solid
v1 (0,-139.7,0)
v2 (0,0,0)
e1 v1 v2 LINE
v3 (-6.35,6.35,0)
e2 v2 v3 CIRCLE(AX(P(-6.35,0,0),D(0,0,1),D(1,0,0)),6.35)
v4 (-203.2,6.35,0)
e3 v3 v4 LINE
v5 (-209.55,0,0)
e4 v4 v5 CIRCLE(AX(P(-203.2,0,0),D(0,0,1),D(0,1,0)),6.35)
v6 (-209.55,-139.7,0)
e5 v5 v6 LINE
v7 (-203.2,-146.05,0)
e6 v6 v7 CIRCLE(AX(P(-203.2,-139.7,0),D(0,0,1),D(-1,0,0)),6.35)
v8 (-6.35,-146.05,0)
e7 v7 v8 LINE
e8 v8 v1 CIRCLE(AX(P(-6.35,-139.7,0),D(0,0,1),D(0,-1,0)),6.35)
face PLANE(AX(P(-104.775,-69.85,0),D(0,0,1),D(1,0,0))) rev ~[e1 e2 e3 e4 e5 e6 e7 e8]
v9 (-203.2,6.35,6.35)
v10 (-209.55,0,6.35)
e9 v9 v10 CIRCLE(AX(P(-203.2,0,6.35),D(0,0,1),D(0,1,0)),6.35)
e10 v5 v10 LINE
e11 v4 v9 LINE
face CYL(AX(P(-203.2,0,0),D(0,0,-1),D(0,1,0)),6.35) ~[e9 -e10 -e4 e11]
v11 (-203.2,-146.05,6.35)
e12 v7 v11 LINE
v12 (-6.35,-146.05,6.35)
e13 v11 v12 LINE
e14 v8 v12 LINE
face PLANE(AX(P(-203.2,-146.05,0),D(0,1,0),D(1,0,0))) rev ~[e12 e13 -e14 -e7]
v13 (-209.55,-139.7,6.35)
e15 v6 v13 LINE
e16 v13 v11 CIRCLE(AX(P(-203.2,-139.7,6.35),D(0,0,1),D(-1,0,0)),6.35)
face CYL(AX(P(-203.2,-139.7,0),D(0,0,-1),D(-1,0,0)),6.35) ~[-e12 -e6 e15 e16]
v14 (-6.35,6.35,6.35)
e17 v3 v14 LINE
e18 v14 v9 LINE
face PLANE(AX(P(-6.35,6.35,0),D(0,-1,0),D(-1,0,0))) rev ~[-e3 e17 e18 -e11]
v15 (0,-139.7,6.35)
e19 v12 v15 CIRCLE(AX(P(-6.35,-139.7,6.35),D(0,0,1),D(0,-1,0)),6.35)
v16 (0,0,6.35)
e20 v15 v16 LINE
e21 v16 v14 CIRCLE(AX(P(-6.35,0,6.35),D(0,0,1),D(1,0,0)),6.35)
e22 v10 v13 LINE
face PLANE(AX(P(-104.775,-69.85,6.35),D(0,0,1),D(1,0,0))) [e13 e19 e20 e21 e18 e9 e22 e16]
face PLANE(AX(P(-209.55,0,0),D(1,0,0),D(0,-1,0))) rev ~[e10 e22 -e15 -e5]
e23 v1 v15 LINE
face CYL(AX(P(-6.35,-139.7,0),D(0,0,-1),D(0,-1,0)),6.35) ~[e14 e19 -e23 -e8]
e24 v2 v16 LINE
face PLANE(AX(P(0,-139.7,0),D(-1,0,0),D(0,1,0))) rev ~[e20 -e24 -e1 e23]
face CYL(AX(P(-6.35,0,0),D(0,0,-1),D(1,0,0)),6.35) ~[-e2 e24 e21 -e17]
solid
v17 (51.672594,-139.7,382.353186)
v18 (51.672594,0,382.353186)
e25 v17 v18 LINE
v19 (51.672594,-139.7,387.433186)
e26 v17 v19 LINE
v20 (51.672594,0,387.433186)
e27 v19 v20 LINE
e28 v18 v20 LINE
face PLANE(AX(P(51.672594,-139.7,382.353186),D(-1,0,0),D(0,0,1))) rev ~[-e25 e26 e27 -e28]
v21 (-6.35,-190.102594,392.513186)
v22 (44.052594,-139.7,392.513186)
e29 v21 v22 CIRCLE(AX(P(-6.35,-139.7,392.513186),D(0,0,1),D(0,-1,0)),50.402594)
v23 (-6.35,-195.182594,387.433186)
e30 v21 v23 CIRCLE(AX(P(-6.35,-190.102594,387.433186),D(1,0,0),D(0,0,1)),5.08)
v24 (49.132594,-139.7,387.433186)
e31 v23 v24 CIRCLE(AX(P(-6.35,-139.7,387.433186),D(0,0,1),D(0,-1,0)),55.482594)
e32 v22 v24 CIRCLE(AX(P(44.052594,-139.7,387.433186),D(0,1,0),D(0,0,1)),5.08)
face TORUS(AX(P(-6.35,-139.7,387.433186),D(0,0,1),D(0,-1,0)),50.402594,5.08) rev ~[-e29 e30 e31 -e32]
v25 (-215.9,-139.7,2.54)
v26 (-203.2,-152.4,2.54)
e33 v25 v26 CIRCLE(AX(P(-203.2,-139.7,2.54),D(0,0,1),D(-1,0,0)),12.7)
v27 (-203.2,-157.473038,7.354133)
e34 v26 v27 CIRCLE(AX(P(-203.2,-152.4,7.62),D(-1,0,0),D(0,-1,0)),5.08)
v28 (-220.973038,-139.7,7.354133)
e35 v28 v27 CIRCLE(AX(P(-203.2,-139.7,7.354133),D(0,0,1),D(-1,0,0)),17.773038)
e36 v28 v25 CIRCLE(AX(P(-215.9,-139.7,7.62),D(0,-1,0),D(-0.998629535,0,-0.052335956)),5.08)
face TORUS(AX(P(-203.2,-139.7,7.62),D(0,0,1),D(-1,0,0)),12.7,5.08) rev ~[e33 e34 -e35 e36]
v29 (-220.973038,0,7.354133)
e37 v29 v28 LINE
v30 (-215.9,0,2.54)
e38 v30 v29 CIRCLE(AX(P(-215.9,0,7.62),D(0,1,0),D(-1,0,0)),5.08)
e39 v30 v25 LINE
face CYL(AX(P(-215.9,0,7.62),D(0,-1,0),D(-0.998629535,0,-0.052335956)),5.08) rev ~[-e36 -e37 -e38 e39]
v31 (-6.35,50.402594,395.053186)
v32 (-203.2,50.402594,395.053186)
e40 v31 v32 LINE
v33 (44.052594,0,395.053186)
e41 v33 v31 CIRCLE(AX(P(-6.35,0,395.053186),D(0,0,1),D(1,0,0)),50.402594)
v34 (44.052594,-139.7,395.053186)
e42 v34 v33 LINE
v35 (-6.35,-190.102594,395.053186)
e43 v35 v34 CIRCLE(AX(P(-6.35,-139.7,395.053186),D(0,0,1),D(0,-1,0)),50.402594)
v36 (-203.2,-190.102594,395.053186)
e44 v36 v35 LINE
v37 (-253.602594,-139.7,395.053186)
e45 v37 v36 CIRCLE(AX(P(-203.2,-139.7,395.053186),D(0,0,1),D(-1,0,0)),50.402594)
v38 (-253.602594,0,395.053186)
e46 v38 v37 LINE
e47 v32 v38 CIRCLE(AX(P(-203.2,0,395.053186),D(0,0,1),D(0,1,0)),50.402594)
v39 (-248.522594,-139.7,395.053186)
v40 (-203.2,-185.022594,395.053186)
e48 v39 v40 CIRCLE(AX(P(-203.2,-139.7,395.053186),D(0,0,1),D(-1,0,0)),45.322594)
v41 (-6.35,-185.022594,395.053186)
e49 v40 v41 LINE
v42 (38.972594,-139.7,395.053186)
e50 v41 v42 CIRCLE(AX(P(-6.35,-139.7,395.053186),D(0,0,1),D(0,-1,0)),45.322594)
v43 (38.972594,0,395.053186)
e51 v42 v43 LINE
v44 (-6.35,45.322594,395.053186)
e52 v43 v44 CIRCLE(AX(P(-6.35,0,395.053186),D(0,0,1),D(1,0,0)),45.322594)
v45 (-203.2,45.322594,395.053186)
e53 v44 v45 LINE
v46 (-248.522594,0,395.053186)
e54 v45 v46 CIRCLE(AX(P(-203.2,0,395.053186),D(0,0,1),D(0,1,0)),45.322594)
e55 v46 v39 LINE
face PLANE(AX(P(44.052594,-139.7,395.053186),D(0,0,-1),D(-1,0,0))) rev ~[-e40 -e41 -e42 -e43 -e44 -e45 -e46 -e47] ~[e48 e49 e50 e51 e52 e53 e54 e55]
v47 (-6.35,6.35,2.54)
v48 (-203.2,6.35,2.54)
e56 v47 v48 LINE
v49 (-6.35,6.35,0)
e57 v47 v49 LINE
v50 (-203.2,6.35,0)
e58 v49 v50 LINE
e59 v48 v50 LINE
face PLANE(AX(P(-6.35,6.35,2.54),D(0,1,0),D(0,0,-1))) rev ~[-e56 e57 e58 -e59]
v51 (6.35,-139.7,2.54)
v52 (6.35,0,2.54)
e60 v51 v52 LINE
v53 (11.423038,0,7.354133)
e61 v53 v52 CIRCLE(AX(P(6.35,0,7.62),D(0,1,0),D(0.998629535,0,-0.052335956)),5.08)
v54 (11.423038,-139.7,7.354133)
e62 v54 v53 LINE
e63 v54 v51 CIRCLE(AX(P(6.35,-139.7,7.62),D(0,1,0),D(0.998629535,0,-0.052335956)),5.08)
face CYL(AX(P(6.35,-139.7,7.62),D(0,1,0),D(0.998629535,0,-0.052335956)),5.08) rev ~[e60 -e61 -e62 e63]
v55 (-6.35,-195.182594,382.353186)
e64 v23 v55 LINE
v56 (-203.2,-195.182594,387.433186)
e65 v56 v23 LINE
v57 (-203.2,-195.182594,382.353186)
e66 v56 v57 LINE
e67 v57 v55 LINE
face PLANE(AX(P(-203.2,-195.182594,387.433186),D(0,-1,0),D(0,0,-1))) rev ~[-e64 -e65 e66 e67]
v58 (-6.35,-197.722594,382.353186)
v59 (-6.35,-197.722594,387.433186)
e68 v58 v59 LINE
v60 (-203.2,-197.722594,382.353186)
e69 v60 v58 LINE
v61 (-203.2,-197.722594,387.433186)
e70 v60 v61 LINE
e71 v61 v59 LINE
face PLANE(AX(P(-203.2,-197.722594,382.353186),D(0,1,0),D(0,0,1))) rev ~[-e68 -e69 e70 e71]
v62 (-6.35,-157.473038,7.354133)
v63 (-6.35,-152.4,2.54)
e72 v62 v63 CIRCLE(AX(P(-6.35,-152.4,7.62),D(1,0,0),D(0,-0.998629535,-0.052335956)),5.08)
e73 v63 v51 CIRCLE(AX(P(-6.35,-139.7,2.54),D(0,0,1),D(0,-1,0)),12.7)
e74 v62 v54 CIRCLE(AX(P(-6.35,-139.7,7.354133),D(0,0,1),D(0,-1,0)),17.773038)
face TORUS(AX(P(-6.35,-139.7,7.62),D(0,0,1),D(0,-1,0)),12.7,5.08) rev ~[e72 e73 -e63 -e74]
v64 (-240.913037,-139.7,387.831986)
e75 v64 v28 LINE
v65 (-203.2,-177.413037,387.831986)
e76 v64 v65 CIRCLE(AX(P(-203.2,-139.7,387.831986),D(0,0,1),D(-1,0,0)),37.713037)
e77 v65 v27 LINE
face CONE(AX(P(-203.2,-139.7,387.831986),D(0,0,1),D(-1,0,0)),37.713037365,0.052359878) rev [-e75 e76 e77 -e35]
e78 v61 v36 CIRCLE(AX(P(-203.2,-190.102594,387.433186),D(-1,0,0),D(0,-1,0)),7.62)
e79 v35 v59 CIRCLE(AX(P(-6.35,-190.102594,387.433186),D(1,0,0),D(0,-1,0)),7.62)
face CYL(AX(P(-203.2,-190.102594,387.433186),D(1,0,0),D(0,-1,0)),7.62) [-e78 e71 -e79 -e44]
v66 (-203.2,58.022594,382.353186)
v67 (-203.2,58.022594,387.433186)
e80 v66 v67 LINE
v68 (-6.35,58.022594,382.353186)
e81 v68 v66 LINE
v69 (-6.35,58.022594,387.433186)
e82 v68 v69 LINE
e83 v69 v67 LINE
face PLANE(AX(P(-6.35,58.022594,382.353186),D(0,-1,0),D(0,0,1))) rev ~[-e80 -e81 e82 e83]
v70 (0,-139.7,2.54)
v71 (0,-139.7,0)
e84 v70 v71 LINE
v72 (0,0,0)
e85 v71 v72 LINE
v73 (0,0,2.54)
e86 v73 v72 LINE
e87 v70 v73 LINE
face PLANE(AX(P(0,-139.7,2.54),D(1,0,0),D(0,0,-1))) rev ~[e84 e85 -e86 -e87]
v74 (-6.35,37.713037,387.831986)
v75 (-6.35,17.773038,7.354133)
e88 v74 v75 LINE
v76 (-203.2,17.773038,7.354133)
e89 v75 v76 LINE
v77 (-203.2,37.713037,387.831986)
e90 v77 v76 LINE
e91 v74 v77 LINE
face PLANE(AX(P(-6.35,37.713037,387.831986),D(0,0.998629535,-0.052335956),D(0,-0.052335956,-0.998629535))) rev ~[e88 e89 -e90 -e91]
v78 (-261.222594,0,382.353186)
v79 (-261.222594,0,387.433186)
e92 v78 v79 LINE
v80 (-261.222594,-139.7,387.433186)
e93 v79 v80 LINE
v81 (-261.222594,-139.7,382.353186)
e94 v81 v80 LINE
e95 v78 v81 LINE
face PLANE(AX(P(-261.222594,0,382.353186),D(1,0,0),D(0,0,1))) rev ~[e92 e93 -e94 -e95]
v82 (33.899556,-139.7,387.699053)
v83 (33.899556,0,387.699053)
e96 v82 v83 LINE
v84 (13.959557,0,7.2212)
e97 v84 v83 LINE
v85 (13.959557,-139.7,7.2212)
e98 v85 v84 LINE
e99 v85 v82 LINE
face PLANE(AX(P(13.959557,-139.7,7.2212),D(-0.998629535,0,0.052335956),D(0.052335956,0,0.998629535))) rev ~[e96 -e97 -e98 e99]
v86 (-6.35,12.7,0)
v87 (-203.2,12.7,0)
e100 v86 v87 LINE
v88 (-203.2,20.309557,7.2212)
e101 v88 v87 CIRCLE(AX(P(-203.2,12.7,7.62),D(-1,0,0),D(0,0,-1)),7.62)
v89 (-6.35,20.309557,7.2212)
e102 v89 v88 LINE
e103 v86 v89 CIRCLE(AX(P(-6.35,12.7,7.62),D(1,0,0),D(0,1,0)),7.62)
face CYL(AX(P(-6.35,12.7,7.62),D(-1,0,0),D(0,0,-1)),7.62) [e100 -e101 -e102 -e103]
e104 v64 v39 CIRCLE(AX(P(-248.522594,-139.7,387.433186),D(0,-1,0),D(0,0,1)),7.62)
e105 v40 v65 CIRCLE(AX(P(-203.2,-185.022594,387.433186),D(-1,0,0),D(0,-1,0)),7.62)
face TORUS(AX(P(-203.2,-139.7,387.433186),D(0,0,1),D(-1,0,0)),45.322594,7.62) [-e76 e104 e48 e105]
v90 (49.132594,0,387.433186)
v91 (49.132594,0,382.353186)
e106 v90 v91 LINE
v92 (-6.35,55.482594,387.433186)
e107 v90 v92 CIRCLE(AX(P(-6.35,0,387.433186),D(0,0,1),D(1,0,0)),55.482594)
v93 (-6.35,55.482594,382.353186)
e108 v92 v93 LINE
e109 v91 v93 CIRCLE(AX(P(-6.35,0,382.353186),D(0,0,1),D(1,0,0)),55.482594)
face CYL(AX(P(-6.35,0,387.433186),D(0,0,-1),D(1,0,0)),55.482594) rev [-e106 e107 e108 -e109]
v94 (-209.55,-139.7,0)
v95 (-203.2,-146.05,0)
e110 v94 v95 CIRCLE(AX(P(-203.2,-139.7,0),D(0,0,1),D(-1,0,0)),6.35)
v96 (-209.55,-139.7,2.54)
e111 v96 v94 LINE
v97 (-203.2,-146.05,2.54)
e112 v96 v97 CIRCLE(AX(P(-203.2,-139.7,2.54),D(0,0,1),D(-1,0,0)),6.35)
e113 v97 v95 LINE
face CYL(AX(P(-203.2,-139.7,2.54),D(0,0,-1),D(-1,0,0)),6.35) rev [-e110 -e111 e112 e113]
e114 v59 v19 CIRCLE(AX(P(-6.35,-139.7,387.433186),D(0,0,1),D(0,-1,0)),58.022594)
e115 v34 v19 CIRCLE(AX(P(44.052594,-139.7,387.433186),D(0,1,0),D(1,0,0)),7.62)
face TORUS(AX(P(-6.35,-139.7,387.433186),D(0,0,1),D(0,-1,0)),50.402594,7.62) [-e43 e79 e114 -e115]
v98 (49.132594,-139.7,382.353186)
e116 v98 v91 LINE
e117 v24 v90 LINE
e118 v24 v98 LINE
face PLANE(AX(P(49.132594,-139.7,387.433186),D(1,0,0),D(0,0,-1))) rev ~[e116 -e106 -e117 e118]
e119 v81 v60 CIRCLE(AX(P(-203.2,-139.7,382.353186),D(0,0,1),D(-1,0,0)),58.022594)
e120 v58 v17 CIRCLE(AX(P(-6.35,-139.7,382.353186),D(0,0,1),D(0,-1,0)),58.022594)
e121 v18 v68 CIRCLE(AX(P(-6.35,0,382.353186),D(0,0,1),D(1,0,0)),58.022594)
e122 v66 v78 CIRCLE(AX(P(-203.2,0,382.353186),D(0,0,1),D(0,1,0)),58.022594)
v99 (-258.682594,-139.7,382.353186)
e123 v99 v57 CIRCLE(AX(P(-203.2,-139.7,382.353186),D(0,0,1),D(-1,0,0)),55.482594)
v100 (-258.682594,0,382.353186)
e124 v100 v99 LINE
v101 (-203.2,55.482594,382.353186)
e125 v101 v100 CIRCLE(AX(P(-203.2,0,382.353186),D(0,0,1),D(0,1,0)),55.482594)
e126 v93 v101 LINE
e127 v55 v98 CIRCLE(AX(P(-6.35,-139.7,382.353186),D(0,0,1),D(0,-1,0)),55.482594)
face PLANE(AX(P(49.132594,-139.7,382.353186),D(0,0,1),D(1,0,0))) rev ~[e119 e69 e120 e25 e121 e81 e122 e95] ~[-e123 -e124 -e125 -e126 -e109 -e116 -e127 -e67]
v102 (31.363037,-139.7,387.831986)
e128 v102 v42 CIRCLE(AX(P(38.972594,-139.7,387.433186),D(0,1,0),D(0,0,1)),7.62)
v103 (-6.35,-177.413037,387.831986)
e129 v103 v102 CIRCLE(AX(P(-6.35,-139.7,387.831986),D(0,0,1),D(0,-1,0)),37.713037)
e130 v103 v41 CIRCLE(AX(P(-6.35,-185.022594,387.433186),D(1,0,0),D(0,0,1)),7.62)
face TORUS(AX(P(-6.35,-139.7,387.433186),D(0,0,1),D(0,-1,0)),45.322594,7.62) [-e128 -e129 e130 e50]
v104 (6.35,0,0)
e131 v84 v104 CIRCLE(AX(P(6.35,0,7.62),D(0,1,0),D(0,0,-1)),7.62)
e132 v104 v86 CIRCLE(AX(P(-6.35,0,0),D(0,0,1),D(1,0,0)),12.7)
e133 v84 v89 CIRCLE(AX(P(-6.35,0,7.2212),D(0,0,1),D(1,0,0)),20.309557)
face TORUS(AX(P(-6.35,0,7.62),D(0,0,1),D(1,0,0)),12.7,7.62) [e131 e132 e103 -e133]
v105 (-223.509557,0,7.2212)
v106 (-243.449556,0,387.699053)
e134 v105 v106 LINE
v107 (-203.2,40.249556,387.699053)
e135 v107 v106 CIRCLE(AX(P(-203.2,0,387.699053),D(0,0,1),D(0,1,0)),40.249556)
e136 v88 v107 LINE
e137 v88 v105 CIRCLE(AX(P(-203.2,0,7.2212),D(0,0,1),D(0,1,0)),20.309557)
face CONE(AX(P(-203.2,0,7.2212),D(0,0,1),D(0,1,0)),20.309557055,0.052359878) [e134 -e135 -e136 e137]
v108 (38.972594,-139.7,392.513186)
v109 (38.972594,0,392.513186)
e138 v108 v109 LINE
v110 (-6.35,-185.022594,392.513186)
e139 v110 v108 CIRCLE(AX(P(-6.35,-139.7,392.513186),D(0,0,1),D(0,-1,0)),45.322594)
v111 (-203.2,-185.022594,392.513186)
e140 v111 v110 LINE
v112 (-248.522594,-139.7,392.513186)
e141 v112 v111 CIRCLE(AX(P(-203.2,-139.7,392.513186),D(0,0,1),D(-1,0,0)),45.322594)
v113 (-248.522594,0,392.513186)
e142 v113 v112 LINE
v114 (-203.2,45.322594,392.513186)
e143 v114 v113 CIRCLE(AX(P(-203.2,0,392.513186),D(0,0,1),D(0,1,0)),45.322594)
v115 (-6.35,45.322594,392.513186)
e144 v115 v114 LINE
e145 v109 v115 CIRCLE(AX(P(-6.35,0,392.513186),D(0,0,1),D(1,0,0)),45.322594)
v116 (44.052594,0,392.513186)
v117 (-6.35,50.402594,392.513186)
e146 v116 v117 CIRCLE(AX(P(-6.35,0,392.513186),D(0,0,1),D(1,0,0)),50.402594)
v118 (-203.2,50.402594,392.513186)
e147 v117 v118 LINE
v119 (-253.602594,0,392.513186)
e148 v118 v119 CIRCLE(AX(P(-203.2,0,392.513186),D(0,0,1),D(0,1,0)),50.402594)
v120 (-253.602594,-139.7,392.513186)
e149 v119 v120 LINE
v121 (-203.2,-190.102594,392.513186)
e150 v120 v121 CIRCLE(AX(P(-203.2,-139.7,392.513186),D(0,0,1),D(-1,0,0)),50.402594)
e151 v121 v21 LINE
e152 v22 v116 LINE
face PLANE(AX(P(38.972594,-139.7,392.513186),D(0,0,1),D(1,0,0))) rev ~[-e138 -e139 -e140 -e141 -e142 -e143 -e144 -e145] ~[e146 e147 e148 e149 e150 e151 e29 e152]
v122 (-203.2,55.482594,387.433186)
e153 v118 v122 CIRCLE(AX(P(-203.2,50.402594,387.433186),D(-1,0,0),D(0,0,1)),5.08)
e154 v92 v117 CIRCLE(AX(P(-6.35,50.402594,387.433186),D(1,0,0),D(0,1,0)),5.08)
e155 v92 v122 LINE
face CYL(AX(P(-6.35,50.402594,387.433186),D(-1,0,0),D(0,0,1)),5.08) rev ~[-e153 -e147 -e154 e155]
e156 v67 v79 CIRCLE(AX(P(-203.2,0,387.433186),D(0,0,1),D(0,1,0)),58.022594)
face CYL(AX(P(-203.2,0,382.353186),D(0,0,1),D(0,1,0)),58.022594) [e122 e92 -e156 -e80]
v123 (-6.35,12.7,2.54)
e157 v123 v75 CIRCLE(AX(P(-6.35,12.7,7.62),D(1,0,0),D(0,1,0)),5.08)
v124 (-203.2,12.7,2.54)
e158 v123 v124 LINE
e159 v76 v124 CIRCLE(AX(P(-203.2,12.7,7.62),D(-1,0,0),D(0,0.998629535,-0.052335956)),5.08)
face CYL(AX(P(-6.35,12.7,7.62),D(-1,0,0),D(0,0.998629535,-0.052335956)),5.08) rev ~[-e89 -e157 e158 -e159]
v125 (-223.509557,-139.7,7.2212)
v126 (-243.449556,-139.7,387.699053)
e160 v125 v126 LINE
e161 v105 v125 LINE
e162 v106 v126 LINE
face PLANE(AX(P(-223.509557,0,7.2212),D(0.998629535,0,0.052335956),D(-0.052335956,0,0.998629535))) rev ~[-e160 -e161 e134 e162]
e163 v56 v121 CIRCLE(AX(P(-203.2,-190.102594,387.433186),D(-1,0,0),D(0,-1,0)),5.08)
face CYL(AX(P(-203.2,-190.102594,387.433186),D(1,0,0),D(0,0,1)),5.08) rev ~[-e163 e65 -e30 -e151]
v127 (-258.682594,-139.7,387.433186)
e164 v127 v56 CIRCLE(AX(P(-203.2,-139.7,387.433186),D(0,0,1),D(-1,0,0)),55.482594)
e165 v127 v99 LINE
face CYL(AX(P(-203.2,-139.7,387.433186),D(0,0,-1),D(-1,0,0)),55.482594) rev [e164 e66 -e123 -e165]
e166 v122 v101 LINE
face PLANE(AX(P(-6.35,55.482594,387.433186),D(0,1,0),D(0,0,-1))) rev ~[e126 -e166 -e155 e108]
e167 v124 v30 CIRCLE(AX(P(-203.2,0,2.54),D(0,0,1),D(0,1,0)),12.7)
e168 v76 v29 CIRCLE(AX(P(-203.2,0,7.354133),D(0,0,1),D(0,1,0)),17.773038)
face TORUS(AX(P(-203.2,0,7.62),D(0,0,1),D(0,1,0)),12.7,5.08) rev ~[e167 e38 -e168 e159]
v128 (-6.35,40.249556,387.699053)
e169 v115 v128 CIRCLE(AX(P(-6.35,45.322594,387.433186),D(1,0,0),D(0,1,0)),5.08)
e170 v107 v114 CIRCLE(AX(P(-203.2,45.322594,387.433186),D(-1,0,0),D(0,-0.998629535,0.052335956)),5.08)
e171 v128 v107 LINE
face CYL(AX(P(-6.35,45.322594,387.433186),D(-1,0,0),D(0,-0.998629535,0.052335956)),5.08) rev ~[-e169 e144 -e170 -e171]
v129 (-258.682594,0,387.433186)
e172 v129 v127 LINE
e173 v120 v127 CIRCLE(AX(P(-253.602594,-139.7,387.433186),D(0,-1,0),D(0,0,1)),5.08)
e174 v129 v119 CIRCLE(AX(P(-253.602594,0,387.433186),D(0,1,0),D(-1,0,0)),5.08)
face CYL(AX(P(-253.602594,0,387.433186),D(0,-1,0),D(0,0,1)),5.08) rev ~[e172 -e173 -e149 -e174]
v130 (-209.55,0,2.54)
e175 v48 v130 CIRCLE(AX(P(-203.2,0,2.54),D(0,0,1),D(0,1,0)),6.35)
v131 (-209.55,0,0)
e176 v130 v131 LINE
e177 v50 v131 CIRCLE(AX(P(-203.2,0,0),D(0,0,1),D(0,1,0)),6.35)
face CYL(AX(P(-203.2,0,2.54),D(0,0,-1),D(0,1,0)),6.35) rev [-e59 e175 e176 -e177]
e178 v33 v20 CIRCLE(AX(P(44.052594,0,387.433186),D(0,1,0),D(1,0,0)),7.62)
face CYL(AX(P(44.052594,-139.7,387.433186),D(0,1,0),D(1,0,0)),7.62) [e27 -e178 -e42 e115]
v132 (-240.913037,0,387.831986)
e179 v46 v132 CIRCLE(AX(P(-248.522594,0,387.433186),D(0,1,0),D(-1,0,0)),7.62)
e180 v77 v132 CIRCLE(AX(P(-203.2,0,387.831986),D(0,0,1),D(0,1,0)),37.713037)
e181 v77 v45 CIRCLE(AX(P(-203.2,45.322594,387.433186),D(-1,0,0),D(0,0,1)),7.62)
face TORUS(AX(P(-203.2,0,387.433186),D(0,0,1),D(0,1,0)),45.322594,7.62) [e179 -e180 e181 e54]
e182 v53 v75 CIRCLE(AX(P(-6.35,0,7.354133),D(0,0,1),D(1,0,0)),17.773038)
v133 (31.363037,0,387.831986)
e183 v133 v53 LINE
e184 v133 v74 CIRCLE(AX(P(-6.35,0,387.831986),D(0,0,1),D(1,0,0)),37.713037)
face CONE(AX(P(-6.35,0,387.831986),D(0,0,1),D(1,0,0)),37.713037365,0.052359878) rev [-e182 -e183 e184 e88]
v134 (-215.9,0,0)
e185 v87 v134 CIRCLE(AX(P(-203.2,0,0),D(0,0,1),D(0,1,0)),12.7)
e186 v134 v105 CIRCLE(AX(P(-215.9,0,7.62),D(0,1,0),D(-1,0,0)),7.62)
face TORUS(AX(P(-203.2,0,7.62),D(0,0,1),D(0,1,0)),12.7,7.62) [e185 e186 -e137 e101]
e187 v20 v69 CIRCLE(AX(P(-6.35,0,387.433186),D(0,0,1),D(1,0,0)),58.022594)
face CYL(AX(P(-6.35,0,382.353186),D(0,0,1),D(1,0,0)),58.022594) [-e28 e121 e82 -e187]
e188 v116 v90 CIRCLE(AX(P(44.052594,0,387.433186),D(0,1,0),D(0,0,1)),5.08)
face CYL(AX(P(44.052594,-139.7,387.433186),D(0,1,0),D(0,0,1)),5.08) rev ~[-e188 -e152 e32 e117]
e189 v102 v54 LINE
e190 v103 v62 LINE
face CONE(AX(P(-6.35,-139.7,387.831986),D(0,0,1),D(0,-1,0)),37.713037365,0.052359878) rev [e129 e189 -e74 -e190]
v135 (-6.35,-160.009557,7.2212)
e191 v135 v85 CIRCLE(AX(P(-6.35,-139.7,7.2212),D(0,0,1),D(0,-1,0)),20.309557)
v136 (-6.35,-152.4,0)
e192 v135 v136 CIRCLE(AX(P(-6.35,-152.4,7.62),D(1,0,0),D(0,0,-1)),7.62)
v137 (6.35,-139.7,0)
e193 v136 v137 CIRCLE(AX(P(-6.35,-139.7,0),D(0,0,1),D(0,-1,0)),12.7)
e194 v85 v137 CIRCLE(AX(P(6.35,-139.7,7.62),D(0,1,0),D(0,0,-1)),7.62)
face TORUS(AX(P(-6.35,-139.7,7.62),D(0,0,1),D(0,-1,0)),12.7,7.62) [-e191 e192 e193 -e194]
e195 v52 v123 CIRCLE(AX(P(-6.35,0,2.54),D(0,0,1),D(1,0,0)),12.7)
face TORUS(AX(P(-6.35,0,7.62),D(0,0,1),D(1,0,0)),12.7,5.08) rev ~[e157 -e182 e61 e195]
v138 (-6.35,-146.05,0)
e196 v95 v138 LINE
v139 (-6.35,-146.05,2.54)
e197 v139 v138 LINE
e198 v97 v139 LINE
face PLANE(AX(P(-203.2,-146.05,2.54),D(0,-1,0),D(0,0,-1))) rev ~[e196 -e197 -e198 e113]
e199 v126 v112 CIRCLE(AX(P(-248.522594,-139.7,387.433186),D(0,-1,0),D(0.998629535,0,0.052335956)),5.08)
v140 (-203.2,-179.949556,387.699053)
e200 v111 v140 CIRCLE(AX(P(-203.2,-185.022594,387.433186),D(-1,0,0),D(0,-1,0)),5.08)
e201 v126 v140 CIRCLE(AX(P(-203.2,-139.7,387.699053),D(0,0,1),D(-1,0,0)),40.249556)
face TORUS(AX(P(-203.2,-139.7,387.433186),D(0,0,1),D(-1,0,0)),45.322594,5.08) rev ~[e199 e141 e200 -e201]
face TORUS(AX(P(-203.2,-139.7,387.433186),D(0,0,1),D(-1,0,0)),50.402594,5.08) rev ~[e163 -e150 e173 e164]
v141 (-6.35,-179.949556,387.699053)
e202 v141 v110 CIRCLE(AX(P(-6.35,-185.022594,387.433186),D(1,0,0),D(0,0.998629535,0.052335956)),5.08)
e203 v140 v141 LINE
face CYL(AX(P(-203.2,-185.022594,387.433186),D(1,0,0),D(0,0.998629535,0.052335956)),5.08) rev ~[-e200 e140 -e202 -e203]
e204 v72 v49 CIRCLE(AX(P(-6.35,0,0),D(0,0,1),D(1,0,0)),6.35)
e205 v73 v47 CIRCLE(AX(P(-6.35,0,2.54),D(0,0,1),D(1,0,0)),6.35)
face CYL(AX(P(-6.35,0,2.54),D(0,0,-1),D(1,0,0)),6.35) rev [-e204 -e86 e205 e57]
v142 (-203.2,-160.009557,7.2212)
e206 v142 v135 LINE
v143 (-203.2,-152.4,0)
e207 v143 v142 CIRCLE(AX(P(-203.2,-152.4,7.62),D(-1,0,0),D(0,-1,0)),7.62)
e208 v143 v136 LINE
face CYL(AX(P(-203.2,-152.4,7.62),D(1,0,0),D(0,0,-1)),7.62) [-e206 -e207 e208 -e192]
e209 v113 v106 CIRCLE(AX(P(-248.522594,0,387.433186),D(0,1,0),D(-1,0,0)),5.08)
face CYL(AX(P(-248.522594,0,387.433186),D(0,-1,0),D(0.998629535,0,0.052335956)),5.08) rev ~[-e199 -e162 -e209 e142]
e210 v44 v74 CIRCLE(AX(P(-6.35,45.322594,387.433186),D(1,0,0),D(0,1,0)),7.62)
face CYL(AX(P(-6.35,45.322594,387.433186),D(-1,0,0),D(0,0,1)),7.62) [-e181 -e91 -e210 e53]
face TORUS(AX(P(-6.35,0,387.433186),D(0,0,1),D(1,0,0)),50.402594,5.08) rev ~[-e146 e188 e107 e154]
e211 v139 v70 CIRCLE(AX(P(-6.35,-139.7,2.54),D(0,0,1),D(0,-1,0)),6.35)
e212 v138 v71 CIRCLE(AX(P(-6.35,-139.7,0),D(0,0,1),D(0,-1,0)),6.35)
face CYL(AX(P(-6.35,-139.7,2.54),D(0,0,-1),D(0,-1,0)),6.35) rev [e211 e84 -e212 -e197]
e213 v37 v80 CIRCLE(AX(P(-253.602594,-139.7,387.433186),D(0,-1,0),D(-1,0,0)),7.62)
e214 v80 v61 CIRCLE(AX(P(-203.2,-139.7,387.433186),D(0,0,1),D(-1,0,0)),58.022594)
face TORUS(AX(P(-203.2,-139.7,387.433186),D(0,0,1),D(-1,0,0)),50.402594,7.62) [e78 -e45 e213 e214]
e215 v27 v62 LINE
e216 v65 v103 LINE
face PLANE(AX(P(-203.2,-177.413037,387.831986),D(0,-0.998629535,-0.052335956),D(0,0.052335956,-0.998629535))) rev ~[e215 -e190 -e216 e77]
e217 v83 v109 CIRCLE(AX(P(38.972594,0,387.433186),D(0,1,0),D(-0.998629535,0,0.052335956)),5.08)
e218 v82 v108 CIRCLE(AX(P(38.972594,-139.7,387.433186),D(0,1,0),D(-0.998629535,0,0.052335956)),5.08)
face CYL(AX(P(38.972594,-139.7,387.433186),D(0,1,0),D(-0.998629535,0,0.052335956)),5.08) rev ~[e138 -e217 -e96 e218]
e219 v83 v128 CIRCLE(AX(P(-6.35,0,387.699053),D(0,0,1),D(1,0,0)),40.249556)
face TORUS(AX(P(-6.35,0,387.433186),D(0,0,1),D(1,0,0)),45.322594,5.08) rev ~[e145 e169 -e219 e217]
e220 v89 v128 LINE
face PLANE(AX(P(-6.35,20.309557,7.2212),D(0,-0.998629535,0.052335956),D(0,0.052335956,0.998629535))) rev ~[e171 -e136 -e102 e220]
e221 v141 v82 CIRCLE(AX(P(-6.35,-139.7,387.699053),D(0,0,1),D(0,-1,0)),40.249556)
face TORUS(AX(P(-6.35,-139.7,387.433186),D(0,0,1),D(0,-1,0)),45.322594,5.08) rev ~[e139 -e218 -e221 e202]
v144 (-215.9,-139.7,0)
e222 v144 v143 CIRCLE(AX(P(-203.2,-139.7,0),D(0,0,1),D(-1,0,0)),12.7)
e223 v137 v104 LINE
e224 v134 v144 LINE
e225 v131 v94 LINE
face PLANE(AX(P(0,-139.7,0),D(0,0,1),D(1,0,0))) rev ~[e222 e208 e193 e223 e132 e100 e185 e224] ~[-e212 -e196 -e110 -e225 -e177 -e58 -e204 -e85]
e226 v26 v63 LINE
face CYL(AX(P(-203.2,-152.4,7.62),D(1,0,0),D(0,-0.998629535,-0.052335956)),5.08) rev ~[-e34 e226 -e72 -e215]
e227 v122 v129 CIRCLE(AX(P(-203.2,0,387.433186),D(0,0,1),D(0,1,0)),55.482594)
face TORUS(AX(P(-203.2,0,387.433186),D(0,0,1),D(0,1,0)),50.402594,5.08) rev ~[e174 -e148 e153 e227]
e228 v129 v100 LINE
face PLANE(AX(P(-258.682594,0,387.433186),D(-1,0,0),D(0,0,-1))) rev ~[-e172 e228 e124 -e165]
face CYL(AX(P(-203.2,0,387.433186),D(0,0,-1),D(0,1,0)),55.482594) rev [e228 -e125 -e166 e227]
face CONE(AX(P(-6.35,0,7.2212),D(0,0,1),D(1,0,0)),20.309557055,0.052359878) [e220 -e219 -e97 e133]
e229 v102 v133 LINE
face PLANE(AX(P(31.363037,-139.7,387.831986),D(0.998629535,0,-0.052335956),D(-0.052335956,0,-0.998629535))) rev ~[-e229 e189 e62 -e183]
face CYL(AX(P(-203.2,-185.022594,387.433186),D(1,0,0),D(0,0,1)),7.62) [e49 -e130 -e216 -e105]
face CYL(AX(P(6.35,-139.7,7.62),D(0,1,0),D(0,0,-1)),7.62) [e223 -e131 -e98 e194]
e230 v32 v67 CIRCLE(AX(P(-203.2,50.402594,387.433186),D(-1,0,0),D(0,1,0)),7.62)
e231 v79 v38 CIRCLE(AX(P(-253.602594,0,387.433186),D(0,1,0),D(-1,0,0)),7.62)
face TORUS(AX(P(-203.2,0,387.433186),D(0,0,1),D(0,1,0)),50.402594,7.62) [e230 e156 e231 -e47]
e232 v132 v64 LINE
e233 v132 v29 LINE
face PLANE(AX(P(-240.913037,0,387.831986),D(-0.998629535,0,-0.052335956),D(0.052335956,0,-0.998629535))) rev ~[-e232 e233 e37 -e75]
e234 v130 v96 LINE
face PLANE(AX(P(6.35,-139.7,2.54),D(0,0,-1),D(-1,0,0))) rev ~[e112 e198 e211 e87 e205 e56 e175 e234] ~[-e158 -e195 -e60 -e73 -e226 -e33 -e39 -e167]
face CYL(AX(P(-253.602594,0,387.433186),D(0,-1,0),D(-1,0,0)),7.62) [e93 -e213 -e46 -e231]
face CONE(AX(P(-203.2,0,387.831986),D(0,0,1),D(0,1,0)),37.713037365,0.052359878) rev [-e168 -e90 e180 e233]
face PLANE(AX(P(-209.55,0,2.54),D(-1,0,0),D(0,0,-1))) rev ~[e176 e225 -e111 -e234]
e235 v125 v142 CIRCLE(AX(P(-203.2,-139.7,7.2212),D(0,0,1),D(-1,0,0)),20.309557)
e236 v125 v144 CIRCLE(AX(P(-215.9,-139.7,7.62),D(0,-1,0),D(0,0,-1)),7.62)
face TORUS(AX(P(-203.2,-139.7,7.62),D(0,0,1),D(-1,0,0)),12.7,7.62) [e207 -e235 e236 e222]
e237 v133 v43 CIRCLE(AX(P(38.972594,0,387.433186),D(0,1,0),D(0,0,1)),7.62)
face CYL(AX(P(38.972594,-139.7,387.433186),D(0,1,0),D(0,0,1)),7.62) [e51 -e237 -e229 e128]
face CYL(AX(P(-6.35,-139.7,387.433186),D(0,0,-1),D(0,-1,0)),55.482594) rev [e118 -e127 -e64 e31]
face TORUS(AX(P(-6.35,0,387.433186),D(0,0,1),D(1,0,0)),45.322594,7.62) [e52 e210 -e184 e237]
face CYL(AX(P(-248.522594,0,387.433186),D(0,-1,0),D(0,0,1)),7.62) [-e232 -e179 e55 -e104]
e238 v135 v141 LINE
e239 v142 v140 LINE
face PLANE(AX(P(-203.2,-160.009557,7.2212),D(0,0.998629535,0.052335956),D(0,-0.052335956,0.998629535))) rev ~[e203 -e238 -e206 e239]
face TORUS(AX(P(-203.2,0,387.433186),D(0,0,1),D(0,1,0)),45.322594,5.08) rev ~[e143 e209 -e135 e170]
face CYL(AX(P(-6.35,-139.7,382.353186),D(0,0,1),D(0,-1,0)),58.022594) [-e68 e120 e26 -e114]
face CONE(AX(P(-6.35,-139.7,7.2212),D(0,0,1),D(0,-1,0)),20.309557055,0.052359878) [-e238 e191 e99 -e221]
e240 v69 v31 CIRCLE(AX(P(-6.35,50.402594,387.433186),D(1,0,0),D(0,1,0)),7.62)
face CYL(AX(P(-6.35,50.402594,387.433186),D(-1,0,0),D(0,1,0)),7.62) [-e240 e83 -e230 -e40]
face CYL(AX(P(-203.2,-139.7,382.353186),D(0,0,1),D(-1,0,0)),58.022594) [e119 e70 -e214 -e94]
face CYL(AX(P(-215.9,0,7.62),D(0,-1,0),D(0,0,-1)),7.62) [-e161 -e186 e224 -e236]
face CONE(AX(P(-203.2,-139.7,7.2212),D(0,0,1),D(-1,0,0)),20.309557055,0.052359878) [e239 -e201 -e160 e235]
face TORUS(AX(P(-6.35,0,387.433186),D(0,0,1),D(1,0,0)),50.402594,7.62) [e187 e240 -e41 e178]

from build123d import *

# Parameters (mm, degrees)
F3_DEPTH = 6.35


with BuildPart() as f2:
    # F2: sweep along a path in F1
    with BuildLine(Plane.XY) as f2_path:
        Line((0, -139.7), (0, 0))
        ThreePointArc((0, 0), (-1.8598719395, 4.4901280605), (-6.35, 6.35))
        Line((-6.35, 6.35), (-203.2, 6.35))
        ThreePointArc((-203.2, 6.35), (-207.6901280605, 4.4901280605), (-209.55, 0))
        Line((-209.55, 0), (-209.55, -139.7))
        ThreePointArc((-209.55, -139.7), (-207.6901280605, -144.1901280605), (-203.2, -146.05))
        Line((-203.2, -146.05), (-6.35, -146.05))
        ThreePointArc((-6.35, -146.05), (-1.8598719395, -144.1901280605), (0, -139.7))
    # F0 (on Front) → F2 (sweep)
    with BuildSketch(Plane.XZ):
        with BuildLine():
            Line((6.35, 2.54), (0, 2.54))
            Line((0, 2.54), (0, 0))
            Line((0, 0), (6.35, 0))
            ThreePointArc((6.35, 0), (11.5952618668, 2.0926472929), (13.9595570548, 7.2212000134))
            Line((13.9595570548, 7.2212000134), (33.8995563834, 387.6990527549))
            ThreePointArc((33.8995563834, 387.6990527549), (35.4757531754, 391.1180879019), (38.9725944199, 392.5131860972))
            Line((38.9725944199, 392.5131860972), (44.0525944199, 392.5131860972))
            ThreePointArc((44.0525944199, 392.5131860972), (47.6446968684, 391.0252885456), (49.1325944199, 387.4331860972))
            Line((49.1325944199, 387.4331860972), (49.1325944199, 382.3531860972))
            Line((49.1325944199, 382.3531860972), (51.6725944199, 382.3531860972))
            Line((51.6725944199, 382.3531860972), (51.6725944199, 387.4331860972))
            ThreePointArc((51.6725944199, 387.4331860972), (49.4407480926, 392.8213397698), (44.0525944199, 395.0531860972))
            Line((44.0525944199, 395.0531860972), (38.9725944199, 395.0531860972))
            ThreePointArc((38.9725944199, 395.0531860972), (33.7273325532, 392.9605388043), (31.3630373651, 387.8319860838))
            Line((31.3630373651, 387.8319860838), (11.4230380366, 7.3541333423))
            ThreePointArc((11.4230380366, 7.3541333423), (9.8468412445, 3.9350981953), (6.35, 2.54))
        make_face()
    sweep(path=f2_path.line)


with BuildPart() as f3:
    # F1 (on Top) → F3 (new body)
    with BuildSketch(Plane.XY):
        with BuildLine():
            ThreePointArc((-6.35, -146.05), (-1.8598719395, -144.1901280605), (0, -139.7))
            Line((0, -139.7), (0, 0))
            ThreePointArc((0, 0), (-1.8598719395, 4.4901280605), (-6.35, 6.35))
            Line((-6.35, 6.35), (-203.2, 6.35))
            ThreePointArc((-203.2, 6.35), (-207.6901280605, 4.4901280605), (-209.55, 0))
            Line((-209.55, 0), (-209.55, -139.7))
            ThreePointArc((-209.55, -139.7), (-207.6901280605, -144.1901280605), (-203.2, -146.05))
            Line((-203.2, -146.05), (-6.35, -146.05))
        make_face()
    extrude(amount=F3_DEPTH)


solid = Compound([f2.part, f3.part])
